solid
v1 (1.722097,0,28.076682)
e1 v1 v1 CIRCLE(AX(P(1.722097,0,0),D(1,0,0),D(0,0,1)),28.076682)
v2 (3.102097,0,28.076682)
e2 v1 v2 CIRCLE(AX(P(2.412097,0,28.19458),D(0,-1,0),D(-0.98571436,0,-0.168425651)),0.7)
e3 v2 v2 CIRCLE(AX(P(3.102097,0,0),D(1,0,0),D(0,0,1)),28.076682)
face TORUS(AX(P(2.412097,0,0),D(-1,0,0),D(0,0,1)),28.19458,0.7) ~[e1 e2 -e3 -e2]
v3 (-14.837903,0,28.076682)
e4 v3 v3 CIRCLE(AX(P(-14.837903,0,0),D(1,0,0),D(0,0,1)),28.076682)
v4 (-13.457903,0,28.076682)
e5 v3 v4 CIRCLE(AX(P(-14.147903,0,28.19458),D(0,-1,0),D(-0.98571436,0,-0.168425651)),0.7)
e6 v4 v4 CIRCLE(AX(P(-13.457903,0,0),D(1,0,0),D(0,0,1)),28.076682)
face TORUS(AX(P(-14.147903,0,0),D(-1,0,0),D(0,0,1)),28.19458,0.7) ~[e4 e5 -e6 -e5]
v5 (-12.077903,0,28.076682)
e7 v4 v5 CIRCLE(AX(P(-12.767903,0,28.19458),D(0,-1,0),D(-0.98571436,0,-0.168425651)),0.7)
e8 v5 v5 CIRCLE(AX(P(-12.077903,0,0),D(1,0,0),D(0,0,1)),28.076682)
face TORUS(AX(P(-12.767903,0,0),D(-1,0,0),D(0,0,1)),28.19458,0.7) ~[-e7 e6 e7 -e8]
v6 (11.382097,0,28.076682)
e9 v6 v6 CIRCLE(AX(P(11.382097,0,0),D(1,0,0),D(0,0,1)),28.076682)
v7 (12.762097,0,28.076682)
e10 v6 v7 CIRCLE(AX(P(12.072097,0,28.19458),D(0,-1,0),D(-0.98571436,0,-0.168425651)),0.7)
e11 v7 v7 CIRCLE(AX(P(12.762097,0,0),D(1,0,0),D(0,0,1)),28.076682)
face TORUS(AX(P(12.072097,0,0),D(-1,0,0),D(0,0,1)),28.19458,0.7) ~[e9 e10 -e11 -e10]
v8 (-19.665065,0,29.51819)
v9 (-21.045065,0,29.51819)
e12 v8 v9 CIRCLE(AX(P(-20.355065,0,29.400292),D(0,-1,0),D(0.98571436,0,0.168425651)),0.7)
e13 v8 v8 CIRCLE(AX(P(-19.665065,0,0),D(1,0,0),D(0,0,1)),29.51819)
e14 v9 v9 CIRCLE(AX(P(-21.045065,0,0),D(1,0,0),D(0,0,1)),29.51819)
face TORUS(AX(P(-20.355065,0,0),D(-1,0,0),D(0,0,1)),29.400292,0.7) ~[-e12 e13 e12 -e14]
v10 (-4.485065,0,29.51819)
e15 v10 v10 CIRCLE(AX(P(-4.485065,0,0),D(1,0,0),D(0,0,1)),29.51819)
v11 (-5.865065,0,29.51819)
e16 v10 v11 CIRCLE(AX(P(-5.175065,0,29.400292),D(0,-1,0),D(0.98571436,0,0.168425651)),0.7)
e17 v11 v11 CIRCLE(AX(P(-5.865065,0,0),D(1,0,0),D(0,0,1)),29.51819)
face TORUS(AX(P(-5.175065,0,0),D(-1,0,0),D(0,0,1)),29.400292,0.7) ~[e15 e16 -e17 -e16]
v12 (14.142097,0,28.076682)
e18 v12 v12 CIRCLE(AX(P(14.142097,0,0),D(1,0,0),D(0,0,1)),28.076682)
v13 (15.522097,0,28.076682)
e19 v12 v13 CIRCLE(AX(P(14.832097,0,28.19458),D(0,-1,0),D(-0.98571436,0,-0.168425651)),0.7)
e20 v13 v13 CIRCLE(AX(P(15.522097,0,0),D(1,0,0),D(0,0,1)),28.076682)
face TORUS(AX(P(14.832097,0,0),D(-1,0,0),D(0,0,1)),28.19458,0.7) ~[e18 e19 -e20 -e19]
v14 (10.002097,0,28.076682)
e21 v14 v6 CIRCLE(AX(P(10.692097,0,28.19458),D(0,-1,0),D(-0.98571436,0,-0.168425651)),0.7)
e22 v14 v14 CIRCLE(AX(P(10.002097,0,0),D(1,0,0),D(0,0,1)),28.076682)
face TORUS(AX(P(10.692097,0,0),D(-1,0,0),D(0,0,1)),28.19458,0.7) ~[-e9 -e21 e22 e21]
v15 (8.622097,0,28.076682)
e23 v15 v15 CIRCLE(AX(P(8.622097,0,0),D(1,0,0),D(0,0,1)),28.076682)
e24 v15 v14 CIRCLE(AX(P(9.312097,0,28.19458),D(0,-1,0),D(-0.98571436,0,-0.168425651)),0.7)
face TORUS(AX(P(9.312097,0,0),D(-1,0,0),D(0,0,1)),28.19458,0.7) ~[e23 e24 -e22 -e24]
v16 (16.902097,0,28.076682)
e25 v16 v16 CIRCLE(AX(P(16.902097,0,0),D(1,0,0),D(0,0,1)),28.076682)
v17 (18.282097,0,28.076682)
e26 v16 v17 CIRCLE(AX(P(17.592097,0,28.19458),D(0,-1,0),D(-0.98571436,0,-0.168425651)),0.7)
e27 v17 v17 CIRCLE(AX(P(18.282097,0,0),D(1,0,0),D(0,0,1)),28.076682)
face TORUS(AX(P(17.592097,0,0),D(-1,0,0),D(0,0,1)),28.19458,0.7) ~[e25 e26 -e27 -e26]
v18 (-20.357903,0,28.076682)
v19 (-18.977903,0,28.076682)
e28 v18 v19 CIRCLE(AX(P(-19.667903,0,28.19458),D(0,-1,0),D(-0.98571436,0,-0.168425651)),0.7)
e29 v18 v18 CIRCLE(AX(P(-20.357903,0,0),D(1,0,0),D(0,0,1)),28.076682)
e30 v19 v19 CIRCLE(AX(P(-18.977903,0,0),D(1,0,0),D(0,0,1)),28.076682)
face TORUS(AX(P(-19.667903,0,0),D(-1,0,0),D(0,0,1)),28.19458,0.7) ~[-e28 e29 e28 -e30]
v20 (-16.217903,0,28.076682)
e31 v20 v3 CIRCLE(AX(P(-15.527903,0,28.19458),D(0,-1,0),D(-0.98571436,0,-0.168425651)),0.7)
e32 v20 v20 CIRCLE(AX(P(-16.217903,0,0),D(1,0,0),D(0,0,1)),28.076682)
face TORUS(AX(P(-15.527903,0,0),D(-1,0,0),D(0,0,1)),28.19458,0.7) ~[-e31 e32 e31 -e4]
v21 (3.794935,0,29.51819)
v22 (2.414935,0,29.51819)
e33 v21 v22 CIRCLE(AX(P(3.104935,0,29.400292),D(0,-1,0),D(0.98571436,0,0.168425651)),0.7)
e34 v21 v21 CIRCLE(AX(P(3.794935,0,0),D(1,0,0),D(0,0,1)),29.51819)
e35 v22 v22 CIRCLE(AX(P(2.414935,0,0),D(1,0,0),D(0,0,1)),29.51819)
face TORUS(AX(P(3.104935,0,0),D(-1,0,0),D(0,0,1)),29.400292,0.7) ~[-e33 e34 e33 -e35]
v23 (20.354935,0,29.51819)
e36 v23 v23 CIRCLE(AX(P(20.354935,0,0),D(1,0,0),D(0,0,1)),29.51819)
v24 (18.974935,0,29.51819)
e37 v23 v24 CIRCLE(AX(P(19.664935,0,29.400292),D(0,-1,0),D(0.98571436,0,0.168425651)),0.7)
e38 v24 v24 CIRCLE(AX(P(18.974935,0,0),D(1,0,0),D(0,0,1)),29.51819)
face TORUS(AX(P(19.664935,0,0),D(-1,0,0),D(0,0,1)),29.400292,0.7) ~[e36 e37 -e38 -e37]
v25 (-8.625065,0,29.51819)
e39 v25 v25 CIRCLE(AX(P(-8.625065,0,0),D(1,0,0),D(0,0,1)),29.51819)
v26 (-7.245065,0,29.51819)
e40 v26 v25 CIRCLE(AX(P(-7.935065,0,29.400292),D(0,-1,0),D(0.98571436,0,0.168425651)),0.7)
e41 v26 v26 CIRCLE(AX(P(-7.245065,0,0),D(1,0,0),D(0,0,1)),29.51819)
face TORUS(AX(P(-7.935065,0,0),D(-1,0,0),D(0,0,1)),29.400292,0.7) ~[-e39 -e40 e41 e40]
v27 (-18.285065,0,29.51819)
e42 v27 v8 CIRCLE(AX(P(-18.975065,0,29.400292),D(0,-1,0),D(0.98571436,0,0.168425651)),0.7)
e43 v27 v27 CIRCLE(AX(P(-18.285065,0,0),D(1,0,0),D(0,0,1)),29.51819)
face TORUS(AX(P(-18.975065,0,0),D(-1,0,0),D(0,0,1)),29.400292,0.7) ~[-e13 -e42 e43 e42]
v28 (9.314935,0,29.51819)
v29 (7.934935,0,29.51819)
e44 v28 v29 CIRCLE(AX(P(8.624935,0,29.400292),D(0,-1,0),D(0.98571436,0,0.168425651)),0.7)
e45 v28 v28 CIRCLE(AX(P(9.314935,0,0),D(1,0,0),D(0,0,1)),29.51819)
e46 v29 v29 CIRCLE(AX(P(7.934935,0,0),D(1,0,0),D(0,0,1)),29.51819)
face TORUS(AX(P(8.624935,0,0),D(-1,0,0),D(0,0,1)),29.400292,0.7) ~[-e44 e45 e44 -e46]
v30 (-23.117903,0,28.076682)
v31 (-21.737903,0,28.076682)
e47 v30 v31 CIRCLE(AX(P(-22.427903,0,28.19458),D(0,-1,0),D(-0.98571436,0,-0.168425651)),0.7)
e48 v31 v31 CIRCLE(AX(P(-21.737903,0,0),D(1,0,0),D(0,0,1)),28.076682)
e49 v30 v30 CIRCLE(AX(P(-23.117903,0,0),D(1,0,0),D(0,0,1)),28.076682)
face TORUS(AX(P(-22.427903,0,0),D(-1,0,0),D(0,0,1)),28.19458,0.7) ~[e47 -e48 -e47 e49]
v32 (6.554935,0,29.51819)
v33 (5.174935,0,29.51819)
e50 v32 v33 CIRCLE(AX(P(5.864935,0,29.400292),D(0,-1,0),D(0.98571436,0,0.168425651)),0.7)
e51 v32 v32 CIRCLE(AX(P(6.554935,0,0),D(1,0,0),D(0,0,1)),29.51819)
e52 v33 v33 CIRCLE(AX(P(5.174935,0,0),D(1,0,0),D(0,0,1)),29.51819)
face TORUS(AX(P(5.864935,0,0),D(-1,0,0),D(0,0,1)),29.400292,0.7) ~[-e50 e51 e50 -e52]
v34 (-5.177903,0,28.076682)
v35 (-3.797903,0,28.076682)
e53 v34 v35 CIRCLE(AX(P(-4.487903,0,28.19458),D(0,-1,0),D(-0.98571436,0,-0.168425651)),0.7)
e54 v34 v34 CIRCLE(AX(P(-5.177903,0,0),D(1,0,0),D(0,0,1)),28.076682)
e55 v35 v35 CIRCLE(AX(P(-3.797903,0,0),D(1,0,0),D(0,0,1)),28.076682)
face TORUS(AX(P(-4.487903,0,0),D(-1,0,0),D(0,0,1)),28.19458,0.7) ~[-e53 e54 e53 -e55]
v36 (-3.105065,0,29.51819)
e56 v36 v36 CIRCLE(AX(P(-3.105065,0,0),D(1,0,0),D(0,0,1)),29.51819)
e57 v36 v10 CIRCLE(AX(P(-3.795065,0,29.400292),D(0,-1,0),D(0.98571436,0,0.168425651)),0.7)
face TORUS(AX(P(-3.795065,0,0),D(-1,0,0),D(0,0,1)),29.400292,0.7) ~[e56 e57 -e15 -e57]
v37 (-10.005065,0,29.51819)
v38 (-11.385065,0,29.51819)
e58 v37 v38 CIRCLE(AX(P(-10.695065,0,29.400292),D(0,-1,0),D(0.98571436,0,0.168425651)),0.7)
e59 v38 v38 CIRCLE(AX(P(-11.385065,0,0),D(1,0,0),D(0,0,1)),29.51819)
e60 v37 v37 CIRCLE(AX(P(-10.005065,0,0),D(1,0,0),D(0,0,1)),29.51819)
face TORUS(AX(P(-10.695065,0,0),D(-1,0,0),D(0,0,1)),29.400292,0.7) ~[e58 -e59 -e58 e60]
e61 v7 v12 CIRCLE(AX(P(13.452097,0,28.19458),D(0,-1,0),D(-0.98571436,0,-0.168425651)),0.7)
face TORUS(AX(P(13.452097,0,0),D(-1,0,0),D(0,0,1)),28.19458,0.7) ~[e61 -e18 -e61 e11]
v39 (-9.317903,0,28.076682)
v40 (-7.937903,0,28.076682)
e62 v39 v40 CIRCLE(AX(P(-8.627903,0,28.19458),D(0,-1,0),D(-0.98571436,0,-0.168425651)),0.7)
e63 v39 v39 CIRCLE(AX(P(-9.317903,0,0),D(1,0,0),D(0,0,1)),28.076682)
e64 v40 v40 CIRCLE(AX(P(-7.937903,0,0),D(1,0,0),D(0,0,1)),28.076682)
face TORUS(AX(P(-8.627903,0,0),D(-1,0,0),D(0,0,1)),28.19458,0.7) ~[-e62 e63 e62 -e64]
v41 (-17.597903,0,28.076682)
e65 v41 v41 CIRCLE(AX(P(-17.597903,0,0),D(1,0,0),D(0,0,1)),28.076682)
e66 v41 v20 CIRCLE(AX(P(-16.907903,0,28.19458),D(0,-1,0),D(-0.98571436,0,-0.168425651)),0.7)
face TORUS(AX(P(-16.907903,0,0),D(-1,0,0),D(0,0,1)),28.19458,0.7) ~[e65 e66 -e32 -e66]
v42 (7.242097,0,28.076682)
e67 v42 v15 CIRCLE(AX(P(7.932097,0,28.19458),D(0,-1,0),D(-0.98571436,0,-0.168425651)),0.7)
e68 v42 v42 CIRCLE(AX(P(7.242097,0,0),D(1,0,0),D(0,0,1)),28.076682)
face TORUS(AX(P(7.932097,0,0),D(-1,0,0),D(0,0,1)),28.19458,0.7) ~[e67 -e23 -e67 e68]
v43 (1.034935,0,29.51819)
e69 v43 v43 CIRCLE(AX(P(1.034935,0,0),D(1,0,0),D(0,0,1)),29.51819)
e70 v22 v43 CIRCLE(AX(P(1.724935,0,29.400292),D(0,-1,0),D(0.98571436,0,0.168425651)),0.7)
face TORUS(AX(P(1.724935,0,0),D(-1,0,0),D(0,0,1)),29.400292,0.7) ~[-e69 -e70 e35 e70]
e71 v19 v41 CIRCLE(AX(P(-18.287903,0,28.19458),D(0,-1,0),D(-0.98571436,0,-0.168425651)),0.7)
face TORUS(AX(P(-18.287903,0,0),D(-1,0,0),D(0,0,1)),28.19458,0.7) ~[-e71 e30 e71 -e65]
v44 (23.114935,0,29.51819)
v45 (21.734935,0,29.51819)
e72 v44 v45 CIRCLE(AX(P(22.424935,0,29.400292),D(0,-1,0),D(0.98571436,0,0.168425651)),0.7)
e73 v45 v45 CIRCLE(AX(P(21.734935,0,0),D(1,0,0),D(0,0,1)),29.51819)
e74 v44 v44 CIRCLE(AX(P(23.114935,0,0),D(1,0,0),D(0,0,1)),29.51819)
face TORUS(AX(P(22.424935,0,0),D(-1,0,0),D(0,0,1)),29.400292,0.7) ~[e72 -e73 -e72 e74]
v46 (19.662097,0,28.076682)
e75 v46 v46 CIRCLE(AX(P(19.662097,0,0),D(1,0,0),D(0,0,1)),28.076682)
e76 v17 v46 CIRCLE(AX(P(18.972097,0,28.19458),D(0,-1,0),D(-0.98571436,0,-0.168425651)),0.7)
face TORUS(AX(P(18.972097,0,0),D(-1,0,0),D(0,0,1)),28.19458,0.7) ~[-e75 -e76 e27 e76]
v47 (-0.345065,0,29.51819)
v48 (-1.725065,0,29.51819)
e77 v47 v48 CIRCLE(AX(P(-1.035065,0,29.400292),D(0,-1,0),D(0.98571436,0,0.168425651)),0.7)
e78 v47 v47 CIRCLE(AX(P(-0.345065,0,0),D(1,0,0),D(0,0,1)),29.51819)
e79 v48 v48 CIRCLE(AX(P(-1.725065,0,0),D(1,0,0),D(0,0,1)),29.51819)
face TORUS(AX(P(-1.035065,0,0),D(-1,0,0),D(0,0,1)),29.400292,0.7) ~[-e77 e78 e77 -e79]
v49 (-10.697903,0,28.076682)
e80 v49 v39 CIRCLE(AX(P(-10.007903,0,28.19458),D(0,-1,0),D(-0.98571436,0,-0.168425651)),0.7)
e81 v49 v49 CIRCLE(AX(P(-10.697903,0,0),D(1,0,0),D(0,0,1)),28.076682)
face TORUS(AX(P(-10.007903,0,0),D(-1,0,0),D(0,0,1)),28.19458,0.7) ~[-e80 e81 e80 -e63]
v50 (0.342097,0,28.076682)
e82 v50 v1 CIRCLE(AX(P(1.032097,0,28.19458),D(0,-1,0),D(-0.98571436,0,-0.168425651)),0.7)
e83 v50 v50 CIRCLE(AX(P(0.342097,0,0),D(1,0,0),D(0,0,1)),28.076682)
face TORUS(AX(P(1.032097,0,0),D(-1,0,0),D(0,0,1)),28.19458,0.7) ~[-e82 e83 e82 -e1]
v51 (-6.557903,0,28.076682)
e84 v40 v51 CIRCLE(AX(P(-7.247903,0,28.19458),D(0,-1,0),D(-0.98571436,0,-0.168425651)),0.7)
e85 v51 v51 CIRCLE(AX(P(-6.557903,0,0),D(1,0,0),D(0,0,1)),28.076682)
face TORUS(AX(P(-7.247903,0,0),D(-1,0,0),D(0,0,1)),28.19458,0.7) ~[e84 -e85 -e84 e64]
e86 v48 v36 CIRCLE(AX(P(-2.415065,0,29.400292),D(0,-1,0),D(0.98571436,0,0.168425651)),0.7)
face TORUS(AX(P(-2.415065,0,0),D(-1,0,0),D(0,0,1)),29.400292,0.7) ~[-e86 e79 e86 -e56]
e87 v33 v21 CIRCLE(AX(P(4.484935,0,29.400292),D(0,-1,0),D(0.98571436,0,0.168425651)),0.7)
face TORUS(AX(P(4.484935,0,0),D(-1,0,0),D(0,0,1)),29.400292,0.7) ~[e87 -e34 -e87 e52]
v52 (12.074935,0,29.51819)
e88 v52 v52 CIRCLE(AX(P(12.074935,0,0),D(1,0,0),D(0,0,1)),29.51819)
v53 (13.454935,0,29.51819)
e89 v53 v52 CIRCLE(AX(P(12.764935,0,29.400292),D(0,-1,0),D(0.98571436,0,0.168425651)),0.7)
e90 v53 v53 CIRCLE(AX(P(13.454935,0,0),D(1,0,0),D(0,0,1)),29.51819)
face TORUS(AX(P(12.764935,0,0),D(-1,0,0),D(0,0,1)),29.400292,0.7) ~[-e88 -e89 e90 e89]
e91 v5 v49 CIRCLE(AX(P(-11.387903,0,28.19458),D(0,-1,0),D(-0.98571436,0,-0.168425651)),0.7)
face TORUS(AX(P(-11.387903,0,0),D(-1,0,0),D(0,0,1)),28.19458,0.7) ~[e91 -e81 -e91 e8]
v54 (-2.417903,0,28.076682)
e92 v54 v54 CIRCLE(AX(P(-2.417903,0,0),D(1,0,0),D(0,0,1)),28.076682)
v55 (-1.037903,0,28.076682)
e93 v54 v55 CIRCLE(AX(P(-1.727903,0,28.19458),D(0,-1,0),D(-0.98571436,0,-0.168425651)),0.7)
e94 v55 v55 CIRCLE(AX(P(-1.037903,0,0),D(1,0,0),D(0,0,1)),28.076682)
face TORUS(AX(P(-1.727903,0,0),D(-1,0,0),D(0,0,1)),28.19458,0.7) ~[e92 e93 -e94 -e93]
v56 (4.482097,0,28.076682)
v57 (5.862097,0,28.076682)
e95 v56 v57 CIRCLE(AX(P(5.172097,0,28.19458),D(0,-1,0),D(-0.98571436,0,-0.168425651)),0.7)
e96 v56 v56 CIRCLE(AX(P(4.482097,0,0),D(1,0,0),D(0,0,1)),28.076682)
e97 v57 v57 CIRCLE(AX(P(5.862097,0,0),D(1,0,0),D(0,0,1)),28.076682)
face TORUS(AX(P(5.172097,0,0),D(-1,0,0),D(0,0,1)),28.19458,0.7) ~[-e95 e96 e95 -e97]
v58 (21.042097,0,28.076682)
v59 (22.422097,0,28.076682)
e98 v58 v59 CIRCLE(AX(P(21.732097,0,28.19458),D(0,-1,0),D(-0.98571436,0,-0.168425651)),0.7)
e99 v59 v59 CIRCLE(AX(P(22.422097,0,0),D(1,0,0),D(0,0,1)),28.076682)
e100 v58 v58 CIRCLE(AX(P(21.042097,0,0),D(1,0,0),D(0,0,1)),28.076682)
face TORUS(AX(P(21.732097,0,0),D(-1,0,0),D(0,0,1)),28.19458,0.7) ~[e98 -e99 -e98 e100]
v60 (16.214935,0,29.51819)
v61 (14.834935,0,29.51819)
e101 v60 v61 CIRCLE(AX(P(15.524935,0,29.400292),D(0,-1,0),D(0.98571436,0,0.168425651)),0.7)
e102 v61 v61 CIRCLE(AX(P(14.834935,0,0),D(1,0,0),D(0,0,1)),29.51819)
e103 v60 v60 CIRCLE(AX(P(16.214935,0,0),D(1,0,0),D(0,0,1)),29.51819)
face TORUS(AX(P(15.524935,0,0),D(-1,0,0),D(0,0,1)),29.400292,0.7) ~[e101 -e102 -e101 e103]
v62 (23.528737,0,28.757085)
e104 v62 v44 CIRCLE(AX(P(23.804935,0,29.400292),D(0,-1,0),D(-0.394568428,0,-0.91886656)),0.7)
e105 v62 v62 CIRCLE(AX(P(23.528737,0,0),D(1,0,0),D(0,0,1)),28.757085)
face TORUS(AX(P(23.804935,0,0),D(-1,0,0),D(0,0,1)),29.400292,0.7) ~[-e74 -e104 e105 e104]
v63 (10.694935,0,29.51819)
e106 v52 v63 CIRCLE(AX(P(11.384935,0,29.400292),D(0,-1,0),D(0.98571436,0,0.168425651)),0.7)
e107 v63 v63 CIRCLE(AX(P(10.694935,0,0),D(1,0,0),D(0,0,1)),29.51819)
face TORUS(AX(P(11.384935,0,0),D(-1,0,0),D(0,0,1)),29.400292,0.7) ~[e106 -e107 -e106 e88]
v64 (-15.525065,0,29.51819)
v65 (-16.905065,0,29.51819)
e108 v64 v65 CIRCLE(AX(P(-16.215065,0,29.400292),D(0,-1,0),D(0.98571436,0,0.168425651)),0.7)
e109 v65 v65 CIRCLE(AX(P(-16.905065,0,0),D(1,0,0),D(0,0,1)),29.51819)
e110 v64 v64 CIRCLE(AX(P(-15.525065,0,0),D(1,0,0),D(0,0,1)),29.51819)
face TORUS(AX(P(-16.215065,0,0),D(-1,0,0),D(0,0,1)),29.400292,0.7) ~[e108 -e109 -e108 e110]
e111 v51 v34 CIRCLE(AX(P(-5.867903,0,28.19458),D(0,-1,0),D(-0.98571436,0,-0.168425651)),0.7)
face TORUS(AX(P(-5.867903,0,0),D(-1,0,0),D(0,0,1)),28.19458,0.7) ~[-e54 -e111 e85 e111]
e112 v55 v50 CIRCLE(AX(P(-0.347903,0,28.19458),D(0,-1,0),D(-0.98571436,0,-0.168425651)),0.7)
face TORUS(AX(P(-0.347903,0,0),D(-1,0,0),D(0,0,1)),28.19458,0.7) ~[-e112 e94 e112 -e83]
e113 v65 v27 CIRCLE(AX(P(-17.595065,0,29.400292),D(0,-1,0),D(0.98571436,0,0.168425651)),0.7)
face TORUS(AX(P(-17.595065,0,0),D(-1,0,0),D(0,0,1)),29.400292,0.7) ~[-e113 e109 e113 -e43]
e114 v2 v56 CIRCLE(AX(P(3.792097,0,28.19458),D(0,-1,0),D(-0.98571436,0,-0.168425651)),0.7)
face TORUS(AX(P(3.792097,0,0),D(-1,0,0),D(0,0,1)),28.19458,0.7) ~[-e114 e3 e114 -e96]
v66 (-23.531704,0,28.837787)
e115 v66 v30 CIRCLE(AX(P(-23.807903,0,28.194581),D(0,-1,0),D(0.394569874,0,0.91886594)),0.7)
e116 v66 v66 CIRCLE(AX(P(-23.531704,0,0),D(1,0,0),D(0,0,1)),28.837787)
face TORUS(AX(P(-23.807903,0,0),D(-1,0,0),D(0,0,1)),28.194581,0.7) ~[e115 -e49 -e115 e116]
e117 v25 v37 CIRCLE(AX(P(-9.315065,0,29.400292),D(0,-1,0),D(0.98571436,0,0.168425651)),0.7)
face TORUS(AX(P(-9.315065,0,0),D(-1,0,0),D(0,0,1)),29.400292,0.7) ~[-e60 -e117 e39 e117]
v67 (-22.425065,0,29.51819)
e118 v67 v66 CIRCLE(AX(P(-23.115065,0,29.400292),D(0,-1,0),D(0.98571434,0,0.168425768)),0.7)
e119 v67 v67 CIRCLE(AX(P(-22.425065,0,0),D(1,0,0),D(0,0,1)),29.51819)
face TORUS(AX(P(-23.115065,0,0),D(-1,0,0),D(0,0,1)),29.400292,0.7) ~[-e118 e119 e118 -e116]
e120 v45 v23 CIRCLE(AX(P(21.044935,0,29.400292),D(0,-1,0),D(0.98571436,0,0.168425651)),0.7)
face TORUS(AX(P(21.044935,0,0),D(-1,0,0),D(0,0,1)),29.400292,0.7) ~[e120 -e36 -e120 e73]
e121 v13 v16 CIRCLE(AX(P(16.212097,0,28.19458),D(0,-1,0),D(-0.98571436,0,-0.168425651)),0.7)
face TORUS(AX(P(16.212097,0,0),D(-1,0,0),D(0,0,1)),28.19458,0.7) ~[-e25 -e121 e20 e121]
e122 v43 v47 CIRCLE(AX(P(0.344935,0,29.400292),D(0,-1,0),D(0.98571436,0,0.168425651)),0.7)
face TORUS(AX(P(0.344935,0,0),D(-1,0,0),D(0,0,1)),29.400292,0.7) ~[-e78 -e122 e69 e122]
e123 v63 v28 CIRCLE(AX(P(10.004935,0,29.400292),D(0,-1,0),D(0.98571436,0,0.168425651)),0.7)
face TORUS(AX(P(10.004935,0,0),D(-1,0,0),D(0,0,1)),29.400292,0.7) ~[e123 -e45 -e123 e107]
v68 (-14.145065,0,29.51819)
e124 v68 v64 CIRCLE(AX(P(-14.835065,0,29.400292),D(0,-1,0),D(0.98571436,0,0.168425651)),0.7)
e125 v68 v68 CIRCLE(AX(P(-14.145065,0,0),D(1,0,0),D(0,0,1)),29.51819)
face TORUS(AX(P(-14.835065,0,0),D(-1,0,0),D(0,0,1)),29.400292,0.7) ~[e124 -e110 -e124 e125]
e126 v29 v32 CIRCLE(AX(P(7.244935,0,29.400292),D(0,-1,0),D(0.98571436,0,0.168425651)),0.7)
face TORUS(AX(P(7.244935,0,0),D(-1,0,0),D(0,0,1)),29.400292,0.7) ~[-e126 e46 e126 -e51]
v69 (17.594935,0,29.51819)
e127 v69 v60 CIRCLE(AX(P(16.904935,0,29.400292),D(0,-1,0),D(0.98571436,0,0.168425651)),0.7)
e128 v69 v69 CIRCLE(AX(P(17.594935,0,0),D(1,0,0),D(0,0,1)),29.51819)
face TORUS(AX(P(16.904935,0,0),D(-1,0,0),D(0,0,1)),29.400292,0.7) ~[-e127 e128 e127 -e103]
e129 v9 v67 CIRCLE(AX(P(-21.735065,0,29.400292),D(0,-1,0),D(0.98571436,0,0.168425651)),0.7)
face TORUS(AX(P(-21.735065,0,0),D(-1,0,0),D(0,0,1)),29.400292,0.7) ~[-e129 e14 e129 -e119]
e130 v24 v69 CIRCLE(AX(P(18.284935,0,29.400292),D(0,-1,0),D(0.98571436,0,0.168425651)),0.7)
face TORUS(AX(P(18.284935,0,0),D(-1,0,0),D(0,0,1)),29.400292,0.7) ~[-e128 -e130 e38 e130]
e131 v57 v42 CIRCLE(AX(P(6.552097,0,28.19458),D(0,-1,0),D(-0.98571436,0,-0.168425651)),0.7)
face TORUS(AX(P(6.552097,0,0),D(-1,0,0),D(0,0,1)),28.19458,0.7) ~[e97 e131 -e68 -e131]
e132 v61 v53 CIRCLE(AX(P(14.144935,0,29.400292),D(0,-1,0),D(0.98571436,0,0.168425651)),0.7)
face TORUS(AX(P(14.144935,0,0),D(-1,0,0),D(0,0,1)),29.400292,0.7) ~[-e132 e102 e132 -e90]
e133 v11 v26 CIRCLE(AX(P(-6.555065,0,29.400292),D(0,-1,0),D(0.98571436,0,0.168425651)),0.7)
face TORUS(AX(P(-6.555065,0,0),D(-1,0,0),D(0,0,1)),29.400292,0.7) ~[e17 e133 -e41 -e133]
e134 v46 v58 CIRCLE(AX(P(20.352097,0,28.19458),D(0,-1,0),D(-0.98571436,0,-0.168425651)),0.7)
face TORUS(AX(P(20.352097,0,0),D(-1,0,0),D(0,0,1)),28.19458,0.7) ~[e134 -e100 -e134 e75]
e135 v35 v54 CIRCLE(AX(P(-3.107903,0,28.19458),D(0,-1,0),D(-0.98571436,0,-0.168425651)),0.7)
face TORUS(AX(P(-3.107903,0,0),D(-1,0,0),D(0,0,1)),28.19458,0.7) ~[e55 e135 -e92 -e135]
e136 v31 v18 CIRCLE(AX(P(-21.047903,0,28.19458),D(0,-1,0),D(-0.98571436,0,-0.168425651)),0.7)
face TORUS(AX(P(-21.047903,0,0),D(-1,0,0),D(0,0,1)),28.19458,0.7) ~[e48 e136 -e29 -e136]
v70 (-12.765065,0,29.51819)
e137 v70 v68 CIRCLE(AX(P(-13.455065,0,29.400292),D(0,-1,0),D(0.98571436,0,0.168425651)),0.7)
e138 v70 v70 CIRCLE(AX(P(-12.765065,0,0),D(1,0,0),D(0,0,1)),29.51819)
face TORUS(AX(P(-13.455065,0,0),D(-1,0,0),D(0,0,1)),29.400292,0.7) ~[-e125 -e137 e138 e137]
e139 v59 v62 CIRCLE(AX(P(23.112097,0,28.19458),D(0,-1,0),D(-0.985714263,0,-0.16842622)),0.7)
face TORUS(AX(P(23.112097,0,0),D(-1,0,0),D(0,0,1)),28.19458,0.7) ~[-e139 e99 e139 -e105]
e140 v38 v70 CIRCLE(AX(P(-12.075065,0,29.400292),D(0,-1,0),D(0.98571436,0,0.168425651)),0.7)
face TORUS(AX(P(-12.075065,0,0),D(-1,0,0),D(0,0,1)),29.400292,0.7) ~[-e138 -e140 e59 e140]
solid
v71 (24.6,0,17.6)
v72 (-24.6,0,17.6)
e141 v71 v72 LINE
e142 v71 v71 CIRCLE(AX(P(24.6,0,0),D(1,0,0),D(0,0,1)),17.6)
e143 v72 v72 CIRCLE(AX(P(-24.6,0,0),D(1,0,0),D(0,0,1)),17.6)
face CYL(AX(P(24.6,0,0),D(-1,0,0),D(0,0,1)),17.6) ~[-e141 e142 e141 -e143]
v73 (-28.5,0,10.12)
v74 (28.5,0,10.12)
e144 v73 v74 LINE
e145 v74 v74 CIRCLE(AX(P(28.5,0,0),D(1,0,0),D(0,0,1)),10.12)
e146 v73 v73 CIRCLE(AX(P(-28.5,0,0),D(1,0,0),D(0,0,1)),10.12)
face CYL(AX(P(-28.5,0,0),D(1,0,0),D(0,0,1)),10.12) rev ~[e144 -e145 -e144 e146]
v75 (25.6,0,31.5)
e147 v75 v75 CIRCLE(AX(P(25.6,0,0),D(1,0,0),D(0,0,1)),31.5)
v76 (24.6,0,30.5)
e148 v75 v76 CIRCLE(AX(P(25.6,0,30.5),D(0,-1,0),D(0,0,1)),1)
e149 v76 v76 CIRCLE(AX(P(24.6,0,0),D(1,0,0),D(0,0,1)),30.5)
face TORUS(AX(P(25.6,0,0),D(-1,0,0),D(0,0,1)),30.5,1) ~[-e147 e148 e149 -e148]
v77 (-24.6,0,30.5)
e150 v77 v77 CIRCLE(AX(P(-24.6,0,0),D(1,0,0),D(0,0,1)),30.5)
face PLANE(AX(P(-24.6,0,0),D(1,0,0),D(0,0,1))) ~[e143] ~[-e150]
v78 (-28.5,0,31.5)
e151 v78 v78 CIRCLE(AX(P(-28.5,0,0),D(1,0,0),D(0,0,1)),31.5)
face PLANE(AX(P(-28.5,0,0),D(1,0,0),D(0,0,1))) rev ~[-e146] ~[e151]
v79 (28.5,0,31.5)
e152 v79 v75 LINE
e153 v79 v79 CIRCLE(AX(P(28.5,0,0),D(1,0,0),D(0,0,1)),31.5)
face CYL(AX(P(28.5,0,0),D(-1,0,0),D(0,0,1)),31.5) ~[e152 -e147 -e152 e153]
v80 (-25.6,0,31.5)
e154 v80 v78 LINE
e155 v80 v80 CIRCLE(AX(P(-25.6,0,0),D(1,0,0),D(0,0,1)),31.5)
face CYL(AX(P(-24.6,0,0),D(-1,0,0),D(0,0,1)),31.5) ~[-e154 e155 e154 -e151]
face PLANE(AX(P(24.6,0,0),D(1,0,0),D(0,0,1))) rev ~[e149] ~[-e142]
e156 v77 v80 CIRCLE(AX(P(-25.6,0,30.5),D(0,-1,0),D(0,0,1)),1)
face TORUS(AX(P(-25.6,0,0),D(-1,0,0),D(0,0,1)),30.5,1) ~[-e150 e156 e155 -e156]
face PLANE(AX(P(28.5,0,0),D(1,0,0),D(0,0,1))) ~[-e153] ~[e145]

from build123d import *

# Parameters (mm, degrees)
F3_R = 1


with BuildPart() as f1:
    # F0 (on Front) → F1 (revolve)
    with BuildSketch(Plane.XZ):
        with BuildLine():
            ThreePointArc((-19.665065, 29.51819), (-20.355065, 30.100292), (-21.045065, 29.51819))
            ThreePointArc((-21.045065, 29.51819), (-21.735065, 30.100292), (-22.425065, 29.51819))
            ThreePointArc((-22.425065, 29.51819), (-23.481697, 29.996598), (-23.531704, 28.837787))
            ThreePointArc((-23.531704, 28.837787), (-24.422886, 27.860222), (-23.117903, 28.076682))
            ThreePointArc((-23.117903, 28.076682), (-22.427903, 27.49458), (-21.737903, 28.076682))
            ThreePointArc((-21.737903, 28.076682), (-21.047903, 27.49458), (-20.357903, 28.076682))
            ThreePointArc((-20.357903, 28.076682), (-19.667903, 27.49458), (-18.977903, 28.076682))
            ThreePointArc((-18.977903, 28.076682), (-18.287903, 27.49458), (-17.597903, 28.076682))
            ThreePointArc((-17.597903, 28.076682), (-16.907903, 27.49458), (-16.217903, 28.076682))
            ThreePointArc((-16.217903, 28.076682), (-15.527903, 27.49458), (-14.837903, 28.076682))
            ThreePointArc((-14.837903, 28.076682), (-14.147903, 27.49458), (-13.457903, 28.076682))
            ThreePointArc((-13.457903, 28.076682), (-12.767903, 27.49458), (-12.077903, 28.076682))
            ThreePointArc((-12.077903, 28.076682), (-11.387903, 27.49458), (-10.697903, 28.076682))
            ThreePointArc((-10.697903, 28.076682), (-10.007903, 27.49458), (-9.317903, 28.076682))
            ThreePointArc((-9.317903, 28.076682), (-8.627903, 27.49458), (-7.937903, 28.076682))
            ThreePointArc((-7.937903, 28.076682), (-7.247903, 27.49458), (-6.557903, 28.076682))
            ThreePointArc((-6.557903, 28.076682), (-5.867903, 27.49458), (-5.177903, 28.076682))
            ThreePointArc((-5.177903, 28.076682), (-4.487903, 27.49458), (-3.797903, 28.076682))
            ThreePointArc((-3.797903, 28.076682), (-3.107903, 27.49458), (-2.417903, 28.076682))
            ThreePointArc((-2.417903, 28.076682), (-1.727903, 27.49458), (-1.037903, 28.076682))
            ThreePointArc((-1.037903, 28.076682), (-0.347903, 27.49458), (0.342097, 28.076682))
            ThreePointArc((0.342097, 28.076682), (1.032097, 27.49458), (1.722097, 28.076682))
            ThreePointArc((1.722097, 28.076682), (2.412097, 27.49458), (3.102097, 28.076682))
            ThreePointArc((3.102097, 28.076682), (3.792097, 27.49458), (4.482097, 28.076682))
            ThreePointArc((4.482097, 28.076682), (5.172097, 27.49458), (5.862097, 28.076682))
            ThreePointArc((5.862097, 28.076682), (6.552097, 27.49458), (7.242097, 28.076682))
            ThreePointArc((7.242097, 28.076682), (7.932097, 27.49458), (8.622097, 28.076682))
            ThreePointArc((8.622097, 28.076682), (9.312097, 27.49458), (10.002097, 28.076682))
            ThreePointArc((10.002097, 28.076682), (10.692097, 27.49458), (11.382097, 28.076682))
            ThreePointArc((11.382097, 28.076682), (12.072097, 27.49458), (12.762097, 28.076682))
            ThreePointArc((12.762097, 28.076682), (13.452097, 27.49458), (14.142097, 28.076682))
            ThreePointArc((14.142097, 28.076682), (14.832097, 27.49458), (15.522097, 28.076682))
            ThreePointArc((15.522097, 28.076682), (16.212097, 27.49458), (16.902097, 28.076682))
            ThreePointArc((16.902097, 28.076682), (17.592097, 27.49458), (18.282097, 28.076682))
            ThreePointArc((18.282097, 28.076682), (18.972097, 27.49458), (19.662097, 28.076682))
            ThreePointArc((19.662097, 28.076682), (20.352097, 27.49458), (21.042097, 28.076682))
            ThreePointArc((21.042097, 28.076682), (21.732097, 27.49458), (22.422097, 28.076682))
            ThreePointArc((22.422097, 28.076682), (23.478729, 27.598274), (23.528737, 28.757085))
            ThreePointArc((23.528737, 28.757085), (24.419918, 29.73465), (23.114935, 29.51819))
            ThreePointArc((23.114935, 29.51819), (22.424935, 30.100292), (21.734935, 29.51819))
            ThreePointArc((21.734935, 29.51819), (21.044935, 30.100292), (20.354935, 29.51819))
            ThreePointArc((20.354935, 29.51819), (19.664935, 30.100292), (18.974935, 29.51819))
            ThreePointArc((18.974935, 29.51819), (18.284935, 30.100292), (17.594935, 29.51819))
            ThreePointArc((17.594935, 29.51819), (16.904935, 30.100292), (16.214935, 29.51819))
            ThreePointArc((16.214935, 29.51819), (15.524935, 30.100292), (14.834935, 29.51819))
            ThreePointArc((14.834935, 29.51819), (14.144935, 30.100292), (13.454935, 29.51819))
            ThreePointArc((13.454935, 29.51819), (12.764935, 30.100292), (12.074935, 29.51819))
            ThreePointArc((12.074935, 29.51819), (11.384935, 30.100292), (10.694935, 29.51819))
            ThreePointArc((10.694935, 29.51819), (10.004935, 30.100292), (9.314935, 29.51819))
            ThreePointArc((9.314935, 29.51819), (8.624935, 30.100292), (7.934935, 29.51819))
            ThreePointArc((7.934935, 29.51819), (7.244935, 30.100292), (6.554935, 29.51819))
            ThreePointArc((6.554935, 29.51819), (5.864935, 30.100292), (5.174935, 29.51819))
            ThreePointArc((5.174935, 29.51819), (4.484935, 30.100292), (3.794935, 29.51819))
            ThreePointArc((3.794935, 29.51819), (3.104935, 30.100292), (2.414935, 29.51819))
            ThreePointArc((2.414935, 29.51819), (1.724935, 30.100292), (1.034935, 29.51819))
            ThreePointArc((1.034935, 29.51819), (0.344935, 30.100292), (-0.345065, 29.51819))
            ThreePointArc((-0.345065, 29.51819), (-1.035065, 30.100292), (-1.725065, 29.51819))
            ThreePointArc((-1.725065, 29.51819), (-2.415065, 30.100292), (-3.105065, 29.51819))
            ThreePointArc((-3.105065, 29.51819), (-3.795065, 30.100292), (-4.485065, 29.51819))
            ThreePointArc((-4.485065, 29.51819), (-5.175065, 30.100292), (-5.865065, 29.51819))
            ThreePointArc((-5.865065, 29.51819), (-6.555065, 30.100292), (-7.245065, 29.51819))
            ThreePointArc((-7.245065, 29.51819), (-7.935065, 30.100292), (-8.625065, 29.51819))
            ThreePointArc((-8.625065, 29.51819), (-9.315065, 30.100292), (-10.005065, 29.51819))
            ThreePointArc((-10.005065, 29.51819), (-10.695065, 30.100292), (-11.385065, 29.51819))
            ThreePointArc((-11.385065, 29.51819), (-12.075065, 30.100292), (-12.765065, 29.51819))
            ThreePointArc((-12.765065, 29.51819), (-13.455065, 30.100292), (-14.145065, 29.51819))
            ThreePointArc((-14.145065, 29.51819), (-14.835065, 30.100292), (-15.525065, 29.51819))
            ThreePointArc((-15.525065, 29.51819), (-16.215065, 30.100292), (-16.905065, 29.51819))
            ThreePointArc((-16.905065, 29.51819), (-17.595065, 30.100292), (-18.285065, 29.51819))
            ThreePointArc((-18.285065, 29.51819), (-18.975065, 30.100292), (-19.665065, 29.51819))
        make_face()
    revolve(axis=Axis((6.404204, 0, 0), (1, 0, 0)))


with BuildPart() as f2:
    # F0 (on Front) → F2 (revolve)
    with BuildSketch(Plane.XZ):
        Polygon((24.6, 17.6), (0, 17.6), (-24.6, 17.6), (-24.6, 31.5), (-28.5, 31.5), (-28.5, 10.12), (0, 10.12), (28.5, 10.12), (28.5, 31.5), (24.6, 31.5), align=None)
    revolve(axis=Axis((6.404204, 0, 0), (1, 0, 0)))

    # F3
    f3_edges = [f2.edges().sort_by_distance(p)[0] for p in [
        (-24.6, 0, -31.5),
        (24.6, 0, -31.5),
    ]]
    fillet(f3_edges, radius=F3_R)


solid = Compound([f1.part, f2.part])
